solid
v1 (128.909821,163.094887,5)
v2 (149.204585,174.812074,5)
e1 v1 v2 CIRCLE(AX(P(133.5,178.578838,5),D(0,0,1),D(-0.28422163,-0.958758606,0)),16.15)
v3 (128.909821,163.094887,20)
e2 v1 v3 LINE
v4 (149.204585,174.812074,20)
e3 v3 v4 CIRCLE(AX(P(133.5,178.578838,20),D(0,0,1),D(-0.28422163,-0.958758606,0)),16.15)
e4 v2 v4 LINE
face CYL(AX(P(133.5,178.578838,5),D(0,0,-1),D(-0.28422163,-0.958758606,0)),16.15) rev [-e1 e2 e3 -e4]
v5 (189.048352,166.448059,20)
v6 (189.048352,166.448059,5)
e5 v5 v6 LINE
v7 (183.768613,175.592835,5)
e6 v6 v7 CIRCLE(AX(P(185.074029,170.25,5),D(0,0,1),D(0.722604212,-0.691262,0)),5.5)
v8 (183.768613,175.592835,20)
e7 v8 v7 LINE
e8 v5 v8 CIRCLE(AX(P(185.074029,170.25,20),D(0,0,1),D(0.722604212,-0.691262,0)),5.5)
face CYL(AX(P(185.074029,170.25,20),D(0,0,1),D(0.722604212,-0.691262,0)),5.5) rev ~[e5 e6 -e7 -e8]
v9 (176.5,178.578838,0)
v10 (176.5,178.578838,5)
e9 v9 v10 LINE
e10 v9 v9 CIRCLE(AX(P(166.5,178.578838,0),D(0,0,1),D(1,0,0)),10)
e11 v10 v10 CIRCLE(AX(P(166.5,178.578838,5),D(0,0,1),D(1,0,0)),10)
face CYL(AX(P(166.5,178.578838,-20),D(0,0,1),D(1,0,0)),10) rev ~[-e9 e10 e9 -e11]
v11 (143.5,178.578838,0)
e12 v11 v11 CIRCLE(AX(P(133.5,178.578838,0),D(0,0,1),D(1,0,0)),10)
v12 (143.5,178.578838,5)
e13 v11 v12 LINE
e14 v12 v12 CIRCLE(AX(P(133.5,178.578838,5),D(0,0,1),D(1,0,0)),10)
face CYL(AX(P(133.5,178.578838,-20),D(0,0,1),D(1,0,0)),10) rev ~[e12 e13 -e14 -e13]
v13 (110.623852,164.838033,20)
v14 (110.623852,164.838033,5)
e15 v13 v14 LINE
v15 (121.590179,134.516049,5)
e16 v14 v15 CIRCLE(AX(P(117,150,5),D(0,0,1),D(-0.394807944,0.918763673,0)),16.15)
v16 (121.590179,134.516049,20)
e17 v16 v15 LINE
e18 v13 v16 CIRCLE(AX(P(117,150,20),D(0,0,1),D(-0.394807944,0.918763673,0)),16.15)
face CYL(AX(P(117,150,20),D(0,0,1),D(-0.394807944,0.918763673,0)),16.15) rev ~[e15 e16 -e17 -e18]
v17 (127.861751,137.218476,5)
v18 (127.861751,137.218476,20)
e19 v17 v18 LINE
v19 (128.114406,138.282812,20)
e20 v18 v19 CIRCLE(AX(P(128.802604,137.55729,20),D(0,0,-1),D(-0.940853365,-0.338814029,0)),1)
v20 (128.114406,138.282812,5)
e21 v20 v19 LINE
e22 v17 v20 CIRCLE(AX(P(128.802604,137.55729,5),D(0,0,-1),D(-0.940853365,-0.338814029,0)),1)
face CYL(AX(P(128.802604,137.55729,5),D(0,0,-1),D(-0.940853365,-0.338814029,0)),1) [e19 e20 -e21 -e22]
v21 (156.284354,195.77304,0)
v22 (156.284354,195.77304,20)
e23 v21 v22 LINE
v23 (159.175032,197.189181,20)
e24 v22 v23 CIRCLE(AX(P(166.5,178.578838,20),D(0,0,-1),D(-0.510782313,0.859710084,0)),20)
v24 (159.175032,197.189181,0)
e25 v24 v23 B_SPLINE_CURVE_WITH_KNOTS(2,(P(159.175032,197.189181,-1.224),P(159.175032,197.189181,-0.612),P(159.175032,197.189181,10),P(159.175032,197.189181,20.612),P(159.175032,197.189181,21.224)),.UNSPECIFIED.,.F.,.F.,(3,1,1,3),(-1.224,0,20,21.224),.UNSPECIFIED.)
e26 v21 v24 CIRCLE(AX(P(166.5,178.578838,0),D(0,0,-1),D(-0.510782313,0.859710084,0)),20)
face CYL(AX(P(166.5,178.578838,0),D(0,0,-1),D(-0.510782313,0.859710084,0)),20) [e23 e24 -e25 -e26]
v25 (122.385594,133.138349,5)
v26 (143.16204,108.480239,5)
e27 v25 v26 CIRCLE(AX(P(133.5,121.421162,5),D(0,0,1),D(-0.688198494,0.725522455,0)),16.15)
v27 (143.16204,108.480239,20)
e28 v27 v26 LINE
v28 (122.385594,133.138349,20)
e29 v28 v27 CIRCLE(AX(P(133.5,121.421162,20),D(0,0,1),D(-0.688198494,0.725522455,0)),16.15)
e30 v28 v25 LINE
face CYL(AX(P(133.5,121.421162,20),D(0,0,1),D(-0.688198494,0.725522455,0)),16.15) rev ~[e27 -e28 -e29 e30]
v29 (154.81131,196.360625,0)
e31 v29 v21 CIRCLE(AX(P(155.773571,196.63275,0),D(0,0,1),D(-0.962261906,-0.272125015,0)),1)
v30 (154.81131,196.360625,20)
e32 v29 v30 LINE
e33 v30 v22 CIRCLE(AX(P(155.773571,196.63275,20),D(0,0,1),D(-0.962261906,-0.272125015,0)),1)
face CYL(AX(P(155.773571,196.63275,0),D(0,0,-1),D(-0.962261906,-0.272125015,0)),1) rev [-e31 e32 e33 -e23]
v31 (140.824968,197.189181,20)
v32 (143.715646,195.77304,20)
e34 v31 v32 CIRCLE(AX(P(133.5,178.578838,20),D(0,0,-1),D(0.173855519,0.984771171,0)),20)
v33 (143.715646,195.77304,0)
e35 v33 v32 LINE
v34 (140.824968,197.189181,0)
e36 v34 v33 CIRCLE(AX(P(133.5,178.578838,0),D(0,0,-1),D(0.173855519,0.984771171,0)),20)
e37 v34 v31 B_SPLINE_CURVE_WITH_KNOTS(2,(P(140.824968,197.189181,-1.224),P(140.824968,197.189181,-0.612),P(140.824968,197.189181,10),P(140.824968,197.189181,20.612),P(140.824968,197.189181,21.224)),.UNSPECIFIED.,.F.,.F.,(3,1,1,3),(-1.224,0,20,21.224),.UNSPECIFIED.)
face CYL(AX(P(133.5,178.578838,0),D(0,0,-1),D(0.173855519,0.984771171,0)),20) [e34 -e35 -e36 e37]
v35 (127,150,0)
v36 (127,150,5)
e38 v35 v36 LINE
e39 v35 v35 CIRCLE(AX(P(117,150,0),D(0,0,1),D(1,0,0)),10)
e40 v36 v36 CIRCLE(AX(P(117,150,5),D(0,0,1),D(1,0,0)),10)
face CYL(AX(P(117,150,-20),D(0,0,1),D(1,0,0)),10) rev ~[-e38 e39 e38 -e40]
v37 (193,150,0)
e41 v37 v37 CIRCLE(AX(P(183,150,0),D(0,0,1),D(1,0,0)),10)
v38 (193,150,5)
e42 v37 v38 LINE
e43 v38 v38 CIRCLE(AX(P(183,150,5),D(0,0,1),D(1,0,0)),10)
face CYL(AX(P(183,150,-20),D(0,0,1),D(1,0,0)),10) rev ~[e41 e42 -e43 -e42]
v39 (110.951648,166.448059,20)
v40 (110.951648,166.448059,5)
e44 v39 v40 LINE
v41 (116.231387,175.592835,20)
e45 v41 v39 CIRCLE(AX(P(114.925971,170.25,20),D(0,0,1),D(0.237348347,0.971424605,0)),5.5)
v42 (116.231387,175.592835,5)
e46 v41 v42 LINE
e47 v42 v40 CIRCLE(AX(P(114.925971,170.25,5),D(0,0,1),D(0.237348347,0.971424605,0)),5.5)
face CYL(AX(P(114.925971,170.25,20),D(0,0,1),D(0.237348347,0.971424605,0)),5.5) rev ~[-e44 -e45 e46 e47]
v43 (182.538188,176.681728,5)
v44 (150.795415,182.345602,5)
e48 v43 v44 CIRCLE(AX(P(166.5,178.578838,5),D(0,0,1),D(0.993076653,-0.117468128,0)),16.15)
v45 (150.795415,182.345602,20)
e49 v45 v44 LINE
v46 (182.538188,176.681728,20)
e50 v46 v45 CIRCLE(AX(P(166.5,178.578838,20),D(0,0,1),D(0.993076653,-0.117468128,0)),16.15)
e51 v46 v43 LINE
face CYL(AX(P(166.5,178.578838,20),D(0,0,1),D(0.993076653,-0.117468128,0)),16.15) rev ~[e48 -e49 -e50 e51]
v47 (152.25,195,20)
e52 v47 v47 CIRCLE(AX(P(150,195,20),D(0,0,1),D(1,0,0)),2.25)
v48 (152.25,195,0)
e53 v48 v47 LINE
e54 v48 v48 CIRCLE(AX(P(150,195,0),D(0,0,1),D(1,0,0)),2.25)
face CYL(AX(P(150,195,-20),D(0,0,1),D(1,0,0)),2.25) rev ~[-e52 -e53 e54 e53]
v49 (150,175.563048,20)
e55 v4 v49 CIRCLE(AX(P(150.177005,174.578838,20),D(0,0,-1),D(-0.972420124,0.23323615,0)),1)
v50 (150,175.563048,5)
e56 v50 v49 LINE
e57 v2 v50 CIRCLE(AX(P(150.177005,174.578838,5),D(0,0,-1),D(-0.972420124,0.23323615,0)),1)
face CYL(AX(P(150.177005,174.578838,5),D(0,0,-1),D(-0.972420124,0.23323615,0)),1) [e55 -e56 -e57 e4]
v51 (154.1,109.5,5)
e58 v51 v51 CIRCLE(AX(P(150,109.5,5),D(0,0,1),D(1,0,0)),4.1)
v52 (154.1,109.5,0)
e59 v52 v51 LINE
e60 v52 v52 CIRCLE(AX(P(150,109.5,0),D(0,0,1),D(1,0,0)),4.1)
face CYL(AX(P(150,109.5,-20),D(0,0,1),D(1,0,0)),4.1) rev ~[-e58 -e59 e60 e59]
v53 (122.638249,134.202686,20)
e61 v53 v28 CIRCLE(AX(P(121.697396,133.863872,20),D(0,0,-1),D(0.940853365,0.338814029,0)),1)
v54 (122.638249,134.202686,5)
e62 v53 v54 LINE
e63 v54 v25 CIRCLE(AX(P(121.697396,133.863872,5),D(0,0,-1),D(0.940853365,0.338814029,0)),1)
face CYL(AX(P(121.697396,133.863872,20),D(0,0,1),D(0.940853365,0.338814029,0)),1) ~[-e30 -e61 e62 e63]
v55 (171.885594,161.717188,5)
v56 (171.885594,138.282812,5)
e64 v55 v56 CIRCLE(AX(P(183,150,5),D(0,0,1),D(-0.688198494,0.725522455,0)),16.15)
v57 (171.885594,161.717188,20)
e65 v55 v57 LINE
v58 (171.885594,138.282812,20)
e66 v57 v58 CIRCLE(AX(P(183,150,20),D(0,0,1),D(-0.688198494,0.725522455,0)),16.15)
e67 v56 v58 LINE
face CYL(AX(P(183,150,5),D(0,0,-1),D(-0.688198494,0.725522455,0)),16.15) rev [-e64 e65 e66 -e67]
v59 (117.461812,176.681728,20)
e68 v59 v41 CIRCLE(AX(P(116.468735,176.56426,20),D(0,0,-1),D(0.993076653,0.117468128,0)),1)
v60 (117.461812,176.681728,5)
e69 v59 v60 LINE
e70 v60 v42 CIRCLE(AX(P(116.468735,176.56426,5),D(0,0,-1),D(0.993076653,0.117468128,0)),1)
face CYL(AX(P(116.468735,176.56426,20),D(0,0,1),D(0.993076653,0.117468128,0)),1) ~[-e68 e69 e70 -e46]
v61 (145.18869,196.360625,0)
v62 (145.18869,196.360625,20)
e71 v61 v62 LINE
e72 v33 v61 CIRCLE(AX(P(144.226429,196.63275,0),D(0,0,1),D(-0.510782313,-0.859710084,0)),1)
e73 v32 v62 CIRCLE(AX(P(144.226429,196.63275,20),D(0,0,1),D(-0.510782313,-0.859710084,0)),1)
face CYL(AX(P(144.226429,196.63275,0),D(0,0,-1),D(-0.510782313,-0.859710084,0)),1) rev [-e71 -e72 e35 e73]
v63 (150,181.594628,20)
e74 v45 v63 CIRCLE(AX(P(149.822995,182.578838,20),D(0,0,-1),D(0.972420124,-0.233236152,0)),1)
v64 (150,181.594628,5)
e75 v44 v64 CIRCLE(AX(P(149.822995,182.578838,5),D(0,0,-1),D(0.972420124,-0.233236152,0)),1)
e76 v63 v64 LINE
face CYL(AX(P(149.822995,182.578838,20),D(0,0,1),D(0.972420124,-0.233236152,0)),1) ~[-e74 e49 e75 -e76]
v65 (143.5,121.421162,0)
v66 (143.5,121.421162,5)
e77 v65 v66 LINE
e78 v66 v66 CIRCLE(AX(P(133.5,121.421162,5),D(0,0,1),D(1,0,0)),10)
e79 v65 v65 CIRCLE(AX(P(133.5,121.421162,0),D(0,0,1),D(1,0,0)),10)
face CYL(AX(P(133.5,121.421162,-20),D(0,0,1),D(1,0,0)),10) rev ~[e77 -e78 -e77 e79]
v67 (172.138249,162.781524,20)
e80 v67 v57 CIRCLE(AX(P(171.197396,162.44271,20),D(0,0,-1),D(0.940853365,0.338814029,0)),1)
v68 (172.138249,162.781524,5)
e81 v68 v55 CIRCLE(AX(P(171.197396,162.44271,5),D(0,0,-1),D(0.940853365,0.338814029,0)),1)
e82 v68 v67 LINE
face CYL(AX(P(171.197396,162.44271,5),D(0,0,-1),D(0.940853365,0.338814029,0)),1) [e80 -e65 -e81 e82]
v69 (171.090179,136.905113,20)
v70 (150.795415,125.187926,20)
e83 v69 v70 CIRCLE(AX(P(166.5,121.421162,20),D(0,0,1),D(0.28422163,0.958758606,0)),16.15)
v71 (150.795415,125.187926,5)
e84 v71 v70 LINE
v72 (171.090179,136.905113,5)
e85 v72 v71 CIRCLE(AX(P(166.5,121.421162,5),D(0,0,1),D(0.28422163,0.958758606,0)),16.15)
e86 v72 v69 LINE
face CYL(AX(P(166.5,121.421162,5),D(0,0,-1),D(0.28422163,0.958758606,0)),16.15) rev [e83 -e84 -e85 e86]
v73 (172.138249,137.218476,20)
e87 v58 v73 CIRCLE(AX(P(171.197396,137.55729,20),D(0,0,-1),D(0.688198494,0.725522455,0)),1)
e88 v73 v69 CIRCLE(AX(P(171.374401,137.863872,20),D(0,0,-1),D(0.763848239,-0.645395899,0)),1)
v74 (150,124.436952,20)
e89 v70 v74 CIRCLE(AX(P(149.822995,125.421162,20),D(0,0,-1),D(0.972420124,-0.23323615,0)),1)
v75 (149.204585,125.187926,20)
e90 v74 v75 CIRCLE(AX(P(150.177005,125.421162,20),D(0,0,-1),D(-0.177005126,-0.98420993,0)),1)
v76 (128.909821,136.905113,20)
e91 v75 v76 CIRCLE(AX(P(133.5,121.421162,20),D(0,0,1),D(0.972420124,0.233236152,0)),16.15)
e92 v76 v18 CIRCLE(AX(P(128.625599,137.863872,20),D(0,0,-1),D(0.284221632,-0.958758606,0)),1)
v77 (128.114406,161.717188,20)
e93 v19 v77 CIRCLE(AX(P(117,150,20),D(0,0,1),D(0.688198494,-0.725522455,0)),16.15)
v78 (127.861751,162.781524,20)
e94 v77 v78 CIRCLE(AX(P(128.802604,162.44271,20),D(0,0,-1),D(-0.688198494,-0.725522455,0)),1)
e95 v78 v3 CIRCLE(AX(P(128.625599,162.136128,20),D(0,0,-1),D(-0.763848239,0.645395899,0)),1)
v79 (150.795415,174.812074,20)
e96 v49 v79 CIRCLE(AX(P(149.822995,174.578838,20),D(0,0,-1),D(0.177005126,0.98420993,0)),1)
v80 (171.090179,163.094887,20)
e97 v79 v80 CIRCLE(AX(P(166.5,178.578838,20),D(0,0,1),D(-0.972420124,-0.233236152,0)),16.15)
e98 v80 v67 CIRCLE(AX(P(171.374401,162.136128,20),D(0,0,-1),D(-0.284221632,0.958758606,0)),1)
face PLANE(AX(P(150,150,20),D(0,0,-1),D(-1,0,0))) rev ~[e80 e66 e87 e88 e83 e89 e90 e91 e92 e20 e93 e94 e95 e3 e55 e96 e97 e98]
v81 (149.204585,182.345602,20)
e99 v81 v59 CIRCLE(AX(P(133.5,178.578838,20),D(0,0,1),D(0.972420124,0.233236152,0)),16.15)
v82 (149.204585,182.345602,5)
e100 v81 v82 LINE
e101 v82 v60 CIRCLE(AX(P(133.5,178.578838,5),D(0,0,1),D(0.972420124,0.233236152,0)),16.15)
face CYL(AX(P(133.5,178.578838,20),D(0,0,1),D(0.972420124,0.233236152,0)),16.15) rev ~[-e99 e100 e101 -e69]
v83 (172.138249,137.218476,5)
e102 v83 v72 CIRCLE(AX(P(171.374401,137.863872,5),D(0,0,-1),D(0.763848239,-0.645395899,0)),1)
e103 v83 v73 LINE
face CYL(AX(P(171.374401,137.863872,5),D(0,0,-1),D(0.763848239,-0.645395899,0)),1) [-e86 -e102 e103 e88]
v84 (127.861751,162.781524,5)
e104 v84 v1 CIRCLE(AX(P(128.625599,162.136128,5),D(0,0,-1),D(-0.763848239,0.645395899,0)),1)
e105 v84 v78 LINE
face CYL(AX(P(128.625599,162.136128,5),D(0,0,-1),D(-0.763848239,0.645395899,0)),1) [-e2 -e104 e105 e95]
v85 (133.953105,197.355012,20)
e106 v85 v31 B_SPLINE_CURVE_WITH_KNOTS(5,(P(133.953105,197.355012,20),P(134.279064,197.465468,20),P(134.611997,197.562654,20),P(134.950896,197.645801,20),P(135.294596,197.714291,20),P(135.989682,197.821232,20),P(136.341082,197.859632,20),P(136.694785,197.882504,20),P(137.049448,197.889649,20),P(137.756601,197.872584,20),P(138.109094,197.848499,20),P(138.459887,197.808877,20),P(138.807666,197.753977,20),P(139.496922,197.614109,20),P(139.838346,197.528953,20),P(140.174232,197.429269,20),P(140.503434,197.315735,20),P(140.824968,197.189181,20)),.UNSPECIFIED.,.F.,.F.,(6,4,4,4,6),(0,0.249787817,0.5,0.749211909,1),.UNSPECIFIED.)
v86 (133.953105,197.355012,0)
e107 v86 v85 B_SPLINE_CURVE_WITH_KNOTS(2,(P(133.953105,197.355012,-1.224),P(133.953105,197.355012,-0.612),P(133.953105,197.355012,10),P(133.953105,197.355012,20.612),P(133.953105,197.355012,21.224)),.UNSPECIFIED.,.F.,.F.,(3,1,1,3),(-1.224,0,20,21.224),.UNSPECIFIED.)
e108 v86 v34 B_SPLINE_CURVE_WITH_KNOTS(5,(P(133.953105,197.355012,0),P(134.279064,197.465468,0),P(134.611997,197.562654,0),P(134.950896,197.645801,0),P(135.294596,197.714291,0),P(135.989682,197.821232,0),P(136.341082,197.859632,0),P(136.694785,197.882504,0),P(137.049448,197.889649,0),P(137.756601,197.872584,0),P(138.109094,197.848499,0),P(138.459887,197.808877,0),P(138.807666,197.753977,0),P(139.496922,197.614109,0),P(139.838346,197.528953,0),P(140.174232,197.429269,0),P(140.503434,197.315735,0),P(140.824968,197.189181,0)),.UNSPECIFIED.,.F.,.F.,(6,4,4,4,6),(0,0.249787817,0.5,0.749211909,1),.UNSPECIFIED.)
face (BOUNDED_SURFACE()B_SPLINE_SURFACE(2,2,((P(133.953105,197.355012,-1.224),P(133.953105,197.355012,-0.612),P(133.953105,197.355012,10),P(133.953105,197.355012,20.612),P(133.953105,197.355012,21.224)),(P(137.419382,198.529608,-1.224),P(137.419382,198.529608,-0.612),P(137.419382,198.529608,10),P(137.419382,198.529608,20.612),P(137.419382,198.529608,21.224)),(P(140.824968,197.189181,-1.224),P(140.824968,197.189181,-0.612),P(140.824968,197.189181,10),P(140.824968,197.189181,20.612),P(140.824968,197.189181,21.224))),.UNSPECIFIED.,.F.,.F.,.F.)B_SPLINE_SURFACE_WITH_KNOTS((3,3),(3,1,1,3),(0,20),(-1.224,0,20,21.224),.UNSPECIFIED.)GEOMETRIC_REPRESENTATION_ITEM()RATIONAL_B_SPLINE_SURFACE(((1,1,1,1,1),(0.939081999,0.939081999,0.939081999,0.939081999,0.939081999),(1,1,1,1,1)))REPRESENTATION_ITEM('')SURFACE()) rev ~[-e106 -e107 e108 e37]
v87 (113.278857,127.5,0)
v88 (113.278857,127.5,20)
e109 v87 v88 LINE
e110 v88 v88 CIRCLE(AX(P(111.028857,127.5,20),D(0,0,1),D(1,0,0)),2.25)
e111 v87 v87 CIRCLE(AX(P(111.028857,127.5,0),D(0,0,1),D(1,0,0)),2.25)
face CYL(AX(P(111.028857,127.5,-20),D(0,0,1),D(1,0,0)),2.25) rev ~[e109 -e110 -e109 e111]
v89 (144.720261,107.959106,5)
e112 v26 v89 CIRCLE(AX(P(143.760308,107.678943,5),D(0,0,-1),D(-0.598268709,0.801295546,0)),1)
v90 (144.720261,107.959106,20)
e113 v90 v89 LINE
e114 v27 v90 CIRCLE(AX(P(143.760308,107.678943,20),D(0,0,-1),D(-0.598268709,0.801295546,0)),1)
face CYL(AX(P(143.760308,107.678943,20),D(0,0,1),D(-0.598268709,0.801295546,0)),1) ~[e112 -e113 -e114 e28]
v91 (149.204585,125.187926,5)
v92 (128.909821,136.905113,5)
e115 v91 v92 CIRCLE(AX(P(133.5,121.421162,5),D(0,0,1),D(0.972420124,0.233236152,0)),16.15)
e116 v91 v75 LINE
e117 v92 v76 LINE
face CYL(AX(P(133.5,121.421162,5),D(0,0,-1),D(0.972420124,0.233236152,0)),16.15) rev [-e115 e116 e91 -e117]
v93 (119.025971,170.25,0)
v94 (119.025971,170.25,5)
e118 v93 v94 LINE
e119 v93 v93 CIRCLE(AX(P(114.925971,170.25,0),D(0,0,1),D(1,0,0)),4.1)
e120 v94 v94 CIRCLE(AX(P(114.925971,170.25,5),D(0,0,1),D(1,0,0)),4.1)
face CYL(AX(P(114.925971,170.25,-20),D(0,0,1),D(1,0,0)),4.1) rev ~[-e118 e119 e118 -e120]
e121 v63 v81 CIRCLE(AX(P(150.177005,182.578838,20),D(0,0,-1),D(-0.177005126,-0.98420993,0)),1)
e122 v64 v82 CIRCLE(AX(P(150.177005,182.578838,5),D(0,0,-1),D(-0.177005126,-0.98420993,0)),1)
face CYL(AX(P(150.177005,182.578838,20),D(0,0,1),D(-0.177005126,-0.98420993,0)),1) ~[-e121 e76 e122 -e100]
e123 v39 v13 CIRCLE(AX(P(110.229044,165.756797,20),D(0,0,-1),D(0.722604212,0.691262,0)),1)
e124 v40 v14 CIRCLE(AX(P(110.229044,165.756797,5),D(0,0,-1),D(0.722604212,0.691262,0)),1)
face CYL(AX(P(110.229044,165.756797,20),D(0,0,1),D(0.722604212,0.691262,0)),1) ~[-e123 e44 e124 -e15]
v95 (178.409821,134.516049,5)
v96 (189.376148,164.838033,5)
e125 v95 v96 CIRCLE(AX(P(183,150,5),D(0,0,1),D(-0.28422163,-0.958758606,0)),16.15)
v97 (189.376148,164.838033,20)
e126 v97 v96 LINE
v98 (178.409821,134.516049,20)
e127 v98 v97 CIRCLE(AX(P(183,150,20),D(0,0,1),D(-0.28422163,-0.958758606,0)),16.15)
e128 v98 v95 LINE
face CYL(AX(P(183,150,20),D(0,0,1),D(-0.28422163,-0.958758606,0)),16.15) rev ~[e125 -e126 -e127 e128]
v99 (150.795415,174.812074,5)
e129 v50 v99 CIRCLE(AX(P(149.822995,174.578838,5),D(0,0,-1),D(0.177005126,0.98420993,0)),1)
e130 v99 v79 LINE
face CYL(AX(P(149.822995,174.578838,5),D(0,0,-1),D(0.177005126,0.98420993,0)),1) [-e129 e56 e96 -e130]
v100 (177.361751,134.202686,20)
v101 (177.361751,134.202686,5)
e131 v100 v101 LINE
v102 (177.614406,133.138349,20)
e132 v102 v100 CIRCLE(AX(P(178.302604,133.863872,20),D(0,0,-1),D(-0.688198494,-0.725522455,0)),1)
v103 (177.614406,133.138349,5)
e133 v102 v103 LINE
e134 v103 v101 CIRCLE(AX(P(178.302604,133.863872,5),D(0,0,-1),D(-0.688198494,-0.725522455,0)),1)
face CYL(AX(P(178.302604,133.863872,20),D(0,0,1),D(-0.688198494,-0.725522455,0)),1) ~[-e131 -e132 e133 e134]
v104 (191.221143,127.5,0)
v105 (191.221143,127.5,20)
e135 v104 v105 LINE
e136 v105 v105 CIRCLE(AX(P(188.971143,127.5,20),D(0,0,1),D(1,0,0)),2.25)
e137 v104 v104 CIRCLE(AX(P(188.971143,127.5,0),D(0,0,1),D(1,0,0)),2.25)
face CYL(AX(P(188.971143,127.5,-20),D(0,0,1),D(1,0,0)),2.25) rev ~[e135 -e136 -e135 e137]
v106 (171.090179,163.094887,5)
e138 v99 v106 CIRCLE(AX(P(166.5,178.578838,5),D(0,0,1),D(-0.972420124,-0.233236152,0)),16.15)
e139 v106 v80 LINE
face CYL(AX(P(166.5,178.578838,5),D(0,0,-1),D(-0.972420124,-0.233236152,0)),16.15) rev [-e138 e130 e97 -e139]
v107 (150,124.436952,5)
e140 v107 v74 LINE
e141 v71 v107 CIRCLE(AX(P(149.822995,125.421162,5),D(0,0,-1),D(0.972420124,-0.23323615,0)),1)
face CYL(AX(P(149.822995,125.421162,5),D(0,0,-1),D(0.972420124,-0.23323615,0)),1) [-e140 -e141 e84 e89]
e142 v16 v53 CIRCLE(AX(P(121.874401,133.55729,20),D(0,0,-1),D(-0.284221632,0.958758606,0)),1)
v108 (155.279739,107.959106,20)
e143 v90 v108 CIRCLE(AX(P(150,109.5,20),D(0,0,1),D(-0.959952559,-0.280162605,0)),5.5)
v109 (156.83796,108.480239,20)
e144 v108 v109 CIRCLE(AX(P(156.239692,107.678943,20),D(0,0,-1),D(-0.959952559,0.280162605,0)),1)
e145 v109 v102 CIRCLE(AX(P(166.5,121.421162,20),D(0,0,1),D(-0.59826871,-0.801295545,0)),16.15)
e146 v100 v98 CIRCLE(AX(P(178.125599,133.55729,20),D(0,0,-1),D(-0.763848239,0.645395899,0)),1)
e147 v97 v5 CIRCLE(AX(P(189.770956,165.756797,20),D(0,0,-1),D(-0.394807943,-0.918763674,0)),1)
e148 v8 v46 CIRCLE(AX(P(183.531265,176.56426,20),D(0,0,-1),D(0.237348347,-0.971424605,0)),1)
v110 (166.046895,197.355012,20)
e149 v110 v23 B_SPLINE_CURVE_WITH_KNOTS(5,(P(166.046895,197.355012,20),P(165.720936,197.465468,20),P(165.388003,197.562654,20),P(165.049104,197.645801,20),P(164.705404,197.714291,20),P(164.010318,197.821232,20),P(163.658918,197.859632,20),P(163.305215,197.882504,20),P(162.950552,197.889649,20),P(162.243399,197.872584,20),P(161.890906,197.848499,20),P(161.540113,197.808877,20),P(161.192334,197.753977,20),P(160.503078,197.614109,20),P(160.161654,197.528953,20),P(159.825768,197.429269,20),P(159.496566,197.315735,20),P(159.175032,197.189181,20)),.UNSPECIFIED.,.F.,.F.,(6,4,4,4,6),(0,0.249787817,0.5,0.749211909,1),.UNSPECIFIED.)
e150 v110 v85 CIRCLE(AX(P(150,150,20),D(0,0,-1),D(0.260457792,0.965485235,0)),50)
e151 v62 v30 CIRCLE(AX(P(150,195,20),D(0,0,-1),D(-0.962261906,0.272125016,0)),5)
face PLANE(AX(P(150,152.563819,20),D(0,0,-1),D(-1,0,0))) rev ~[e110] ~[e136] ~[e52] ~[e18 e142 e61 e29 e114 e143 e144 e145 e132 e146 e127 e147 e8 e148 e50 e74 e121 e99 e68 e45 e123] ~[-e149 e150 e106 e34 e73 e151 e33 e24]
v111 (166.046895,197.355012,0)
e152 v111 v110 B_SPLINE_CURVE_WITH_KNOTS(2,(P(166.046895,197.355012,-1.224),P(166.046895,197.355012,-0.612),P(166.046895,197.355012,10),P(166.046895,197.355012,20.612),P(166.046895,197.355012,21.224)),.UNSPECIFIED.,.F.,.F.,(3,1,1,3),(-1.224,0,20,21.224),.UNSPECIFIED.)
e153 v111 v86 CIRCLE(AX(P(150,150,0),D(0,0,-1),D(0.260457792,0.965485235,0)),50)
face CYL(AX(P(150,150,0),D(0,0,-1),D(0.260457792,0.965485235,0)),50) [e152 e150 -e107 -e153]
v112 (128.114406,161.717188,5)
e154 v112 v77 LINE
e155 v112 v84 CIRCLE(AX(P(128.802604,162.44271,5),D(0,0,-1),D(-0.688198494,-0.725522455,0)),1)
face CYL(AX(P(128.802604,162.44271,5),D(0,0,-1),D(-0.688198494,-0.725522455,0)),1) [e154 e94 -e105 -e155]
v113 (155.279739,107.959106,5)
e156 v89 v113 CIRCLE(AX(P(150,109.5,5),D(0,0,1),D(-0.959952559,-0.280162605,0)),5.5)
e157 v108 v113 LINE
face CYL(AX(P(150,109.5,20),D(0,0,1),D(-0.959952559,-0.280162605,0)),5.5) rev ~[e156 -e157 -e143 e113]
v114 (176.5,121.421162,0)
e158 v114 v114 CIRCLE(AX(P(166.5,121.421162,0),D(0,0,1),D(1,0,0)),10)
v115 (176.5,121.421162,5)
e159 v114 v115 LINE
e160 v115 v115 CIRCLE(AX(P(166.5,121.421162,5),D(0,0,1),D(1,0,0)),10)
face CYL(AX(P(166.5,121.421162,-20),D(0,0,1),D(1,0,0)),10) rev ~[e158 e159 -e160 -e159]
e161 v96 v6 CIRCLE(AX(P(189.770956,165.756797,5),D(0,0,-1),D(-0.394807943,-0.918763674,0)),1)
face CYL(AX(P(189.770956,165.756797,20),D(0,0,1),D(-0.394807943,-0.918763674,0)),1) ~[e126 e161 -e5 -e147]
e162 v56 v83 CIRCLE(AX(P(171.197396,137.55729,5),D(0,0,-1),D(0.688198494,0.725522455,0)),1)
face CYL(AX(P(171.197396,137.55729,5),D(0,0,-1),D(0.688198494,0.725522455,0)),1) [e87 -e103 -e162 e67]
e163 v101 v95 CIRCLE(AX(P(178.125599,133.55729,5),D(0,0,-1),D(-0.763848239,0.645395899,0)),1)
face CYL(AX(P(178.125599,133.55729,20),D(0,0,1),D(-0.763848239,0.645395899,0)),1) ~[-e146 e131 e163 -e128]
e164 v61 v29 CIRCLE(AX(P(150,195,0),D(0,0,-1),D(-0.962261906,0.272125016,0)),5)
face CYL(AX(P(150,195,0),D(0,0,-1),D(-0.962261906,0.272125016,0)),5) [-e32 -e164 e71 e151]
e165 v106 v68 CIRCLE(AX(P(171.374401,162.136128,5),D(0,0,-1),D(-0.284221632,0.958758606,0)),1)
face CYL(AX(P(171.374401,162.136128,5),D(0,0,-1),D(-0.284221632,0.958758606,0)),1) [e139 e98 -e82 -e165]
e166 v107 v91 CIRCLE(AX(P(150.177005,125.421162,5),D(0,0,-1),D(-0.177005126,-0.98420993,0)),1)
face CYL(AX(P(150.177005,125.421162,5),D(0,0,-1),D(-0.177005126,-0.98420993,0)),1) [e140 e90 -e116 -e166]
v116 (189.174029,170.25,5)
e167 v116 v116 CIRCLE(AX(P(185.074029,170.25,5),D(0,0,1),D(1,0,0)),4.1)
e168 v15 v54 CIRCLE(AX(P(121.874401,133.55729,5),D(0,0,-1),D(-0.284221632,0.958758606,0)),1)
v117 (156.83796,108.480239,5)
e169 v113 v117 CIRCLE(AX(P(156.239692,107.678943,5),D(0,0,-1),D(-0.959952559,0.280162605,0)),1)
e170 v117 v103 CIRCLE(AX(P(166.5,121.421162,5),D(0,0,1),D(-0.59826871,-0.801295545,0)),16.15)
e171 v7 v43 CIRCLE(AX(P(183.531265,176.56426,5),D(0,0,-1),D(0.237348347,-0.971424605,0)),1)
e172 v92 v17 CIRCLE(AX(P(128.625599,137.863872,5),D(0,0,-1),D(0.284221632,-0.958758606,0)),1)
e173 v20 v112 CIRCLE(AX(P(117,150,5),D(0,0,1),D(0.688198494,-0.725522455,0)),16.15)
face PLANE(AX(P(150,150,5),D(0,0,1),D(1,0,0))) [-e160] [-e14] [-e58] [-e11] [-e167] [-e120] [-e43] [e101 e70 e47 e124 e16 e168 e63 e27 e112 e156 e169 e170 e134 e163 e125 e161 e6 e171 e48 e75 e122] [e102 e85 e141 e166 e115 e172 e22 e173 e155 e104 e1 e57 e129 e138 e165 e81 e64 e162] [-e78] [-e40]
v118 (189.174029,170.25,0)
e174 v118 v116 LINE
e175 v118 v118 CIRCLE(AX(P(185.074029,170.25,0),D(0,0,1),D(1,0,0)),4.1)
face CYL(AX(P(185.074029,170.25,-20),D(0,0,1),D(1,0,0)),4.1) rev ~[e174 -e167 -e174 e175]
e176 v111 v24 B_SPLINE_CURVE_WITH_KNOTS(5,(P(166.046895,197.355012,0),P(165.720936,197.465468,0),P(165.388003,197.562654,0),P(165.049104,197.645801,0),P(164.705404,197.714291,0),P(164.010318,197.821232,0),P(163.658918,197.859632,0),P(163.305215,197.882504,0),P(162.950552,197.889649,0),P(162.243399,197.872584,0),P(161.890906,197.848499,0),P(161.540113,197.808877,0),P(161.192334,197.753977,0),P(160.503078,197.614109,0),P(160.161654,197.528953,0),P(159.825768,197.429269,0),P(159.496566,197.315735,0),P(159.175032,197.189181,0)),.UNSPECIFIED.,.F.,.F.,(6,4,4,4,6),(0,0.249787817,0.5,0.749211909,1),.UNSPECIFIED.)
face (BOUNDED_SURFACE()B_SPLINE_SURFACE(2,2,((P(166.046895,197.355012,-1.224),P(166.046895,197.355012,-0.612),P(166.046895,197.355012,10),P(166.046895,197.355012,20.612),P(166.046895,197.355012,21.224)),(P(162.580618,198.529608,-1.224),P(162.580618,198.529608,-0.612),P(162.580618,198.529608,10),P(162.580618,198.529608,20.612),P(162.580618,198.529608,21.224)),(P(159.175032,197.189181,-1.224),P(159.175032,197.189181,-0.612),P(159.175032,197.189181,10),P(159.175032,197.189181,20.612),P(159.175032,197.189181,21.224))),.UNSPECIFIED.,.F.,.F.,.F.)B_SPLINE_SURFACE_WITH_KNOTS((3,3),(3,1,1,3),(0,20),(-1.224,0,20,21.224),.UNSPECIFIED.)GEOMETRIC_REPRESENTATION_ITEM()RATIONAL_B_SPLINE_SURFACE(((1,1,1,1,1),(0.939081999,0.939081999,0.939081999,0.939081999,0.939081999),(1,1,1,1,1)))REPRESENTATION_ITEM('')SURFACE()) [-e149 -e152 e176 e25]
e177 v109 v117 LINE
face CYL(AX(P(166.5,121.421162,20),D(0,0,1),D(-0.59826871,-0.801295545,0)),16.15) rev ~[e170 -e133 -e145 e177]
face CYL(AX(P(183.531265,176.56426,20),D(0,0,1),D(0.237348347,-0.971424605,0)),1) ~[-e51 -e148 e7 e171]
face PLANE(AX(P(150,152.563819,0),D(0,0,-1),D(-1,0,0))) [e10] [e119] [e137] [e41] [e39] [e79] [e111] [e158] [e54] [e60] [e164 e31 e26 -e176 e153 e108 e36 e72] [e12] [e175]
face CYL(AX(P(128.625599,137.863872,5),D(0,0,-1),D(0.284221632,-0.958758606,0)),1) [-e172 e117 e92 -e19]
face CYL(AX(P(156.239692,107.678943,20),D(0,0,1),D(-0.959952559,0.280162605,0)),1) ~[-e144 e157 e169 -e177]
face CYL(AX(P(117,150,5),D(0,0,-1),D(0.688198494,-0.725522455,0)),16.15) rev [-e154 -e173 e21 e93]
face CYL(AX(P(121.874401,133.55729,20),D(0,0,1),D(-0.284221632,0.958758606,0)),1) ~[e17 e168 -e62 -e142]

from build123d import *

# Parameters (mm, degrees)
EXTRUDE_1_DEPTH             = 20
CUT_EXTRUDE_1_DEPTH         = 15
EXTRUDE_2_DEPTH             = 15
HOLE_WIZARD_4_5_4_5_1_D     = 4.5
HOLE_WIZARD_4_5_4_5_1_DEPTH = 20
HOLE_WIZARD_20_0_20_1_D     = 20
HOLE_WIZARD_20_0_20_1_DEPTH = 20
HOLE_WIZARD_8_2_8_2_1_D     = 8.2
HOLE_WIZARD_8_2_8_2_1_DEPTH = 20
FILLET_1_R                  = 10


with BuildPart() as part:
    # 草图1 → 凸台-拉伸1 (new body)
    with BuildSketch(Plane(origin=(0, 0, 0), x_dir=(-1, 0, 0), z_dir=(0, 0, -1))):
        with BuildLine():
            ThreePointArc((-163.022889612, 198.274261736), (-150, 100), (-136.977110388, 198.274261736))
            ThreePointArc((-136.977110388, 198.274261736), (-140.459664046, 197.328853695), (-143.715646252, 195.773040012))
            ThreePointArc((-143.715646252, 195.773040012), (-144.596931613, 195.703918846), (-145.18869047, 196.36062508))
            ThreePointArc((-145.18869047, 196.36062508), (-150, 200), (-154.81130953, 196.36062508))
            ThreePointArc((-154.81130953, 196.36062508), (-155.403068387, 195.703918846), (-156.284353748, 195.773040012))
            ThreePointArc((-156.284353748, 195.773040012), (-159.540335954, 197.328853695), (-163.022889612, 198.274261736))
        make_face()
    extrude(amount=-EXTRUDE_1_DEPTH)

    # 草图2 → 切除-拉伸1 (cut)
    with BuildSketch(Plane.XY.offset(20)):
        with BuildLine():
            ThreePointArc((189.376148289, 164.838033327), (188.791059223, 165.557292987), (189.04835202, 166.448059))
            ThreePointArc((189.04835202, 166.448059), (189.837168574, 173), (183.768612947, 175.592835325))
            ThreePointArc((183.768612947, 175.592835325), (182.868540552, 175.815396233), (182.538187947, 176.681728058))
            ThreePointArc((182.538187947, 176.681728058), (169.336845119, 194.477731675), (150.795414997, 182.345602173))
            ThreePointArc((150.795414997, 182.345602173), (150.50949688, 181.851710417), (150, 181.594628396))
            ThreePointArc((150, 181.594628396), (149.49050312, 181.851710417), (149.204585003, 182.345602173))
            ThreePointArc((149.204585003, 182.345602173), (130.663154881, 194.477731675), (117.461812053, 176.681728058))
            ThreePointArc((117.461812053, 176.681728058), (117.131459448, 175.815396233), (116.231387053, 175.592835325))
            ThreePointArc((116.231387053, 175.592835325), (110.162831426, 173), (110.95164798, 166.448059))
            ThreePointArc((110.95164798, 166.448059), (111.208940777, 165.557292987), (110.623851711, 164.838033327))
            ThreePointArc((110.623851711, 164.838033327), (101.812731907, 144.507333265), (121.590179319, 134.516048507))
            ThreePointArc((121.590179319, 134.516048507), (122.160861185, 134.515382033), (122.638249186, 134.202685802))
            ThreePointArc((122.638249186, 134.202685802), (122.670358065, 133.63290755), (122.385594316, 133.138349319))
            ThreePointArc((122.385594316, 133.138349319), (121.149577026, 111.01493506), (143.162039659, 108.480238616))
            ThreePointArc((143.162039659, 108.480238616), (144.077481329, 108.62731078), (144.720260927, 107.959105675))
            ThreePointArc((144.720260927, 107.959105675), (150, 104), (155.279739073, 107.959105675))
            ThreePointArc((155.279739073, 107.959105675), (155.922518671, 108.62731078), (156.837960341, 108.480238616))
            ThreePointArc((156.837960341, 108.480238616), (178.850422974, 111.01493506), (177.614405684, 133.138349319))
            ThreePointArc((177.614405684, 133.138349319), (177.329641935, 133.63290755), (177.361750814, 134.202685802))
            ThreePointArc((177.361750814, 134.202685802), (177.839138815, 134.515382033), (178.409820681, 134.516048507))
            ThreePointArc((178.409820681, 134.516048507), (198.187268093, 144.507333265), (189.376148289, 164.838033327))
        make_face()
    extrude(amount=-CUT_EXTRUDE_1_DEPTH, mode=Mode.SUBTRACT)

    # 草图3 → 凸台-拉伸2 (add)
    with BuildSketch(Plane.XY.offset(5)):
        with BuildLine():
            ThreePointArc((150.795414997, 125.187925524), (150.50949688, 124.694033767), (150, 124.436951746))
            ThreePointArc((150, 124.436951746), (149.49050312, 124.694033767), (149.204585003, 125.187925524))
            ThreePointArc((149.204585003, 125.187925524), (141.575, 135.407471946), (128.909820681, 136.905113168))
            ThreePointArc((128.909820681, 136.905113168), (128.339138815, 136.905779642), (127.861750814, 137.218475873))
            ThreePointArc((127.861750814, 137.218475873), (127.829641935, 137.788254125), (128.114405684, 138.282812356))
            ThreePointArc((128.114405684, 138.282812356), (133.15, 150), (128.114405684, 161.717187644))
            ThreePointArc((128.114405684, 161.717187644), (127.829641935, 162.211745875), (127.861750814, 162.781524127))
            ThreePointArc((127.861750814, 162.781524127), (128.339138815, 163.094220358), (128.909820681, 163.094886832))
            ThreePointArc((128.909820681, 163.094886832), (141.575, 164.592528054), (149.204585003, 174.812074476))
            ThreePointArc((149.204585003, 174.812074476), (149.49050312, 175.305966233), (150, 175.563048254))
            ThreePointArc((150, 175.563048254), (150.50949688, 175.305966233), (150.795414997, 174.812074476))
            ThreePointArc((150.795414997, 174.812074476), (158.425, 164.592528054), (171.090179319, 163.094886832))
            ThreePointArc((171.090179319, 163.094886832), (171.660861185, 163.094220358), (172.138249186, 162.781524127))
            ThreePointArc((172.138249186, 162.781524127), (172.170358065, 162.211745875), (171.885594316, 161.717187644))
            ThreePointArc((171.885594316, 161.717187644), (166.85, 150), (171.885594316, 138.282812356))
            ThreePointArc((171.885594316, 138.282812356), (172.170358065, 137.788254125), (172.138249186, 137.218475873))
            ThreePointArc((172.138249186, 137.218475873), (171.660861185, 136.905779642), (171.090179319, 136.905113168))
            ThreePointArc((171.090179319, 136.905113168), (158.425, 135.407471946), (150.795414997, 125.187925524))
        make_face()
    extrude(amount=EXTRUDE_2_DEPTH)

    # Ø4.5 (4.5) 直径孔1
    with Locations(Plane(origin=(0, 0, 0), x_dir=(-1, 0, 0), z_dir=(0, 0, -1))):
        with Locations((-150, 195), (-111.02885683, 127.5), (-188.97114317, 127.5)):
            Hole(HOLE_WIZARD_4_5_4_5_1_D / 2, depth=HOLE_WIZARD_4_5_4_5_1_DEPTH)

    # Ø20.0 (20) 直径孔1
    with Locations(Plane(origin=(0, 0, 0), x_dir=(-1, 0, 0), z_dir=(0, 0, -1))):
        with Locations((-133.5, 178.578838325), (-117, 150), (-133.5, 121.421161675), (-166.5, 121.421161675), (-183, 150), (-166.5, 178.578838325)):
            Hole(HOLE_WIZARD_20_0_20_1_D / 2, depth=HOLE_WIZARD_20_0_20_1_DEPTH)

    # Ø8.2 (8.2) 直径孔1
    with Locations(Plane(origin=(0, 0, 0), x_dir=(-1, 0, 0), z_dir=(0, 0, -1))):
        with Locations((-114.925971147, 170.25), (-185.074028853, 170.25), (-150, 109.5)):
            Hole(HOLE_WIZARD_8_2_8_2_1_D / 2, depth=HOLE_WIZARD_8_2_8_2_1_DEPTH)

    # 圆角1
    fillet_1_edges = [part.edges().sort_by_distance(p)[0] for p in [
        (136.977110388, 198.274261736, 10),
        (163.022889612, 198.274261736, 10),
    ]]
    fillet(fillet_1_edges, radius=FILLET_1_R)


solid = part.part
